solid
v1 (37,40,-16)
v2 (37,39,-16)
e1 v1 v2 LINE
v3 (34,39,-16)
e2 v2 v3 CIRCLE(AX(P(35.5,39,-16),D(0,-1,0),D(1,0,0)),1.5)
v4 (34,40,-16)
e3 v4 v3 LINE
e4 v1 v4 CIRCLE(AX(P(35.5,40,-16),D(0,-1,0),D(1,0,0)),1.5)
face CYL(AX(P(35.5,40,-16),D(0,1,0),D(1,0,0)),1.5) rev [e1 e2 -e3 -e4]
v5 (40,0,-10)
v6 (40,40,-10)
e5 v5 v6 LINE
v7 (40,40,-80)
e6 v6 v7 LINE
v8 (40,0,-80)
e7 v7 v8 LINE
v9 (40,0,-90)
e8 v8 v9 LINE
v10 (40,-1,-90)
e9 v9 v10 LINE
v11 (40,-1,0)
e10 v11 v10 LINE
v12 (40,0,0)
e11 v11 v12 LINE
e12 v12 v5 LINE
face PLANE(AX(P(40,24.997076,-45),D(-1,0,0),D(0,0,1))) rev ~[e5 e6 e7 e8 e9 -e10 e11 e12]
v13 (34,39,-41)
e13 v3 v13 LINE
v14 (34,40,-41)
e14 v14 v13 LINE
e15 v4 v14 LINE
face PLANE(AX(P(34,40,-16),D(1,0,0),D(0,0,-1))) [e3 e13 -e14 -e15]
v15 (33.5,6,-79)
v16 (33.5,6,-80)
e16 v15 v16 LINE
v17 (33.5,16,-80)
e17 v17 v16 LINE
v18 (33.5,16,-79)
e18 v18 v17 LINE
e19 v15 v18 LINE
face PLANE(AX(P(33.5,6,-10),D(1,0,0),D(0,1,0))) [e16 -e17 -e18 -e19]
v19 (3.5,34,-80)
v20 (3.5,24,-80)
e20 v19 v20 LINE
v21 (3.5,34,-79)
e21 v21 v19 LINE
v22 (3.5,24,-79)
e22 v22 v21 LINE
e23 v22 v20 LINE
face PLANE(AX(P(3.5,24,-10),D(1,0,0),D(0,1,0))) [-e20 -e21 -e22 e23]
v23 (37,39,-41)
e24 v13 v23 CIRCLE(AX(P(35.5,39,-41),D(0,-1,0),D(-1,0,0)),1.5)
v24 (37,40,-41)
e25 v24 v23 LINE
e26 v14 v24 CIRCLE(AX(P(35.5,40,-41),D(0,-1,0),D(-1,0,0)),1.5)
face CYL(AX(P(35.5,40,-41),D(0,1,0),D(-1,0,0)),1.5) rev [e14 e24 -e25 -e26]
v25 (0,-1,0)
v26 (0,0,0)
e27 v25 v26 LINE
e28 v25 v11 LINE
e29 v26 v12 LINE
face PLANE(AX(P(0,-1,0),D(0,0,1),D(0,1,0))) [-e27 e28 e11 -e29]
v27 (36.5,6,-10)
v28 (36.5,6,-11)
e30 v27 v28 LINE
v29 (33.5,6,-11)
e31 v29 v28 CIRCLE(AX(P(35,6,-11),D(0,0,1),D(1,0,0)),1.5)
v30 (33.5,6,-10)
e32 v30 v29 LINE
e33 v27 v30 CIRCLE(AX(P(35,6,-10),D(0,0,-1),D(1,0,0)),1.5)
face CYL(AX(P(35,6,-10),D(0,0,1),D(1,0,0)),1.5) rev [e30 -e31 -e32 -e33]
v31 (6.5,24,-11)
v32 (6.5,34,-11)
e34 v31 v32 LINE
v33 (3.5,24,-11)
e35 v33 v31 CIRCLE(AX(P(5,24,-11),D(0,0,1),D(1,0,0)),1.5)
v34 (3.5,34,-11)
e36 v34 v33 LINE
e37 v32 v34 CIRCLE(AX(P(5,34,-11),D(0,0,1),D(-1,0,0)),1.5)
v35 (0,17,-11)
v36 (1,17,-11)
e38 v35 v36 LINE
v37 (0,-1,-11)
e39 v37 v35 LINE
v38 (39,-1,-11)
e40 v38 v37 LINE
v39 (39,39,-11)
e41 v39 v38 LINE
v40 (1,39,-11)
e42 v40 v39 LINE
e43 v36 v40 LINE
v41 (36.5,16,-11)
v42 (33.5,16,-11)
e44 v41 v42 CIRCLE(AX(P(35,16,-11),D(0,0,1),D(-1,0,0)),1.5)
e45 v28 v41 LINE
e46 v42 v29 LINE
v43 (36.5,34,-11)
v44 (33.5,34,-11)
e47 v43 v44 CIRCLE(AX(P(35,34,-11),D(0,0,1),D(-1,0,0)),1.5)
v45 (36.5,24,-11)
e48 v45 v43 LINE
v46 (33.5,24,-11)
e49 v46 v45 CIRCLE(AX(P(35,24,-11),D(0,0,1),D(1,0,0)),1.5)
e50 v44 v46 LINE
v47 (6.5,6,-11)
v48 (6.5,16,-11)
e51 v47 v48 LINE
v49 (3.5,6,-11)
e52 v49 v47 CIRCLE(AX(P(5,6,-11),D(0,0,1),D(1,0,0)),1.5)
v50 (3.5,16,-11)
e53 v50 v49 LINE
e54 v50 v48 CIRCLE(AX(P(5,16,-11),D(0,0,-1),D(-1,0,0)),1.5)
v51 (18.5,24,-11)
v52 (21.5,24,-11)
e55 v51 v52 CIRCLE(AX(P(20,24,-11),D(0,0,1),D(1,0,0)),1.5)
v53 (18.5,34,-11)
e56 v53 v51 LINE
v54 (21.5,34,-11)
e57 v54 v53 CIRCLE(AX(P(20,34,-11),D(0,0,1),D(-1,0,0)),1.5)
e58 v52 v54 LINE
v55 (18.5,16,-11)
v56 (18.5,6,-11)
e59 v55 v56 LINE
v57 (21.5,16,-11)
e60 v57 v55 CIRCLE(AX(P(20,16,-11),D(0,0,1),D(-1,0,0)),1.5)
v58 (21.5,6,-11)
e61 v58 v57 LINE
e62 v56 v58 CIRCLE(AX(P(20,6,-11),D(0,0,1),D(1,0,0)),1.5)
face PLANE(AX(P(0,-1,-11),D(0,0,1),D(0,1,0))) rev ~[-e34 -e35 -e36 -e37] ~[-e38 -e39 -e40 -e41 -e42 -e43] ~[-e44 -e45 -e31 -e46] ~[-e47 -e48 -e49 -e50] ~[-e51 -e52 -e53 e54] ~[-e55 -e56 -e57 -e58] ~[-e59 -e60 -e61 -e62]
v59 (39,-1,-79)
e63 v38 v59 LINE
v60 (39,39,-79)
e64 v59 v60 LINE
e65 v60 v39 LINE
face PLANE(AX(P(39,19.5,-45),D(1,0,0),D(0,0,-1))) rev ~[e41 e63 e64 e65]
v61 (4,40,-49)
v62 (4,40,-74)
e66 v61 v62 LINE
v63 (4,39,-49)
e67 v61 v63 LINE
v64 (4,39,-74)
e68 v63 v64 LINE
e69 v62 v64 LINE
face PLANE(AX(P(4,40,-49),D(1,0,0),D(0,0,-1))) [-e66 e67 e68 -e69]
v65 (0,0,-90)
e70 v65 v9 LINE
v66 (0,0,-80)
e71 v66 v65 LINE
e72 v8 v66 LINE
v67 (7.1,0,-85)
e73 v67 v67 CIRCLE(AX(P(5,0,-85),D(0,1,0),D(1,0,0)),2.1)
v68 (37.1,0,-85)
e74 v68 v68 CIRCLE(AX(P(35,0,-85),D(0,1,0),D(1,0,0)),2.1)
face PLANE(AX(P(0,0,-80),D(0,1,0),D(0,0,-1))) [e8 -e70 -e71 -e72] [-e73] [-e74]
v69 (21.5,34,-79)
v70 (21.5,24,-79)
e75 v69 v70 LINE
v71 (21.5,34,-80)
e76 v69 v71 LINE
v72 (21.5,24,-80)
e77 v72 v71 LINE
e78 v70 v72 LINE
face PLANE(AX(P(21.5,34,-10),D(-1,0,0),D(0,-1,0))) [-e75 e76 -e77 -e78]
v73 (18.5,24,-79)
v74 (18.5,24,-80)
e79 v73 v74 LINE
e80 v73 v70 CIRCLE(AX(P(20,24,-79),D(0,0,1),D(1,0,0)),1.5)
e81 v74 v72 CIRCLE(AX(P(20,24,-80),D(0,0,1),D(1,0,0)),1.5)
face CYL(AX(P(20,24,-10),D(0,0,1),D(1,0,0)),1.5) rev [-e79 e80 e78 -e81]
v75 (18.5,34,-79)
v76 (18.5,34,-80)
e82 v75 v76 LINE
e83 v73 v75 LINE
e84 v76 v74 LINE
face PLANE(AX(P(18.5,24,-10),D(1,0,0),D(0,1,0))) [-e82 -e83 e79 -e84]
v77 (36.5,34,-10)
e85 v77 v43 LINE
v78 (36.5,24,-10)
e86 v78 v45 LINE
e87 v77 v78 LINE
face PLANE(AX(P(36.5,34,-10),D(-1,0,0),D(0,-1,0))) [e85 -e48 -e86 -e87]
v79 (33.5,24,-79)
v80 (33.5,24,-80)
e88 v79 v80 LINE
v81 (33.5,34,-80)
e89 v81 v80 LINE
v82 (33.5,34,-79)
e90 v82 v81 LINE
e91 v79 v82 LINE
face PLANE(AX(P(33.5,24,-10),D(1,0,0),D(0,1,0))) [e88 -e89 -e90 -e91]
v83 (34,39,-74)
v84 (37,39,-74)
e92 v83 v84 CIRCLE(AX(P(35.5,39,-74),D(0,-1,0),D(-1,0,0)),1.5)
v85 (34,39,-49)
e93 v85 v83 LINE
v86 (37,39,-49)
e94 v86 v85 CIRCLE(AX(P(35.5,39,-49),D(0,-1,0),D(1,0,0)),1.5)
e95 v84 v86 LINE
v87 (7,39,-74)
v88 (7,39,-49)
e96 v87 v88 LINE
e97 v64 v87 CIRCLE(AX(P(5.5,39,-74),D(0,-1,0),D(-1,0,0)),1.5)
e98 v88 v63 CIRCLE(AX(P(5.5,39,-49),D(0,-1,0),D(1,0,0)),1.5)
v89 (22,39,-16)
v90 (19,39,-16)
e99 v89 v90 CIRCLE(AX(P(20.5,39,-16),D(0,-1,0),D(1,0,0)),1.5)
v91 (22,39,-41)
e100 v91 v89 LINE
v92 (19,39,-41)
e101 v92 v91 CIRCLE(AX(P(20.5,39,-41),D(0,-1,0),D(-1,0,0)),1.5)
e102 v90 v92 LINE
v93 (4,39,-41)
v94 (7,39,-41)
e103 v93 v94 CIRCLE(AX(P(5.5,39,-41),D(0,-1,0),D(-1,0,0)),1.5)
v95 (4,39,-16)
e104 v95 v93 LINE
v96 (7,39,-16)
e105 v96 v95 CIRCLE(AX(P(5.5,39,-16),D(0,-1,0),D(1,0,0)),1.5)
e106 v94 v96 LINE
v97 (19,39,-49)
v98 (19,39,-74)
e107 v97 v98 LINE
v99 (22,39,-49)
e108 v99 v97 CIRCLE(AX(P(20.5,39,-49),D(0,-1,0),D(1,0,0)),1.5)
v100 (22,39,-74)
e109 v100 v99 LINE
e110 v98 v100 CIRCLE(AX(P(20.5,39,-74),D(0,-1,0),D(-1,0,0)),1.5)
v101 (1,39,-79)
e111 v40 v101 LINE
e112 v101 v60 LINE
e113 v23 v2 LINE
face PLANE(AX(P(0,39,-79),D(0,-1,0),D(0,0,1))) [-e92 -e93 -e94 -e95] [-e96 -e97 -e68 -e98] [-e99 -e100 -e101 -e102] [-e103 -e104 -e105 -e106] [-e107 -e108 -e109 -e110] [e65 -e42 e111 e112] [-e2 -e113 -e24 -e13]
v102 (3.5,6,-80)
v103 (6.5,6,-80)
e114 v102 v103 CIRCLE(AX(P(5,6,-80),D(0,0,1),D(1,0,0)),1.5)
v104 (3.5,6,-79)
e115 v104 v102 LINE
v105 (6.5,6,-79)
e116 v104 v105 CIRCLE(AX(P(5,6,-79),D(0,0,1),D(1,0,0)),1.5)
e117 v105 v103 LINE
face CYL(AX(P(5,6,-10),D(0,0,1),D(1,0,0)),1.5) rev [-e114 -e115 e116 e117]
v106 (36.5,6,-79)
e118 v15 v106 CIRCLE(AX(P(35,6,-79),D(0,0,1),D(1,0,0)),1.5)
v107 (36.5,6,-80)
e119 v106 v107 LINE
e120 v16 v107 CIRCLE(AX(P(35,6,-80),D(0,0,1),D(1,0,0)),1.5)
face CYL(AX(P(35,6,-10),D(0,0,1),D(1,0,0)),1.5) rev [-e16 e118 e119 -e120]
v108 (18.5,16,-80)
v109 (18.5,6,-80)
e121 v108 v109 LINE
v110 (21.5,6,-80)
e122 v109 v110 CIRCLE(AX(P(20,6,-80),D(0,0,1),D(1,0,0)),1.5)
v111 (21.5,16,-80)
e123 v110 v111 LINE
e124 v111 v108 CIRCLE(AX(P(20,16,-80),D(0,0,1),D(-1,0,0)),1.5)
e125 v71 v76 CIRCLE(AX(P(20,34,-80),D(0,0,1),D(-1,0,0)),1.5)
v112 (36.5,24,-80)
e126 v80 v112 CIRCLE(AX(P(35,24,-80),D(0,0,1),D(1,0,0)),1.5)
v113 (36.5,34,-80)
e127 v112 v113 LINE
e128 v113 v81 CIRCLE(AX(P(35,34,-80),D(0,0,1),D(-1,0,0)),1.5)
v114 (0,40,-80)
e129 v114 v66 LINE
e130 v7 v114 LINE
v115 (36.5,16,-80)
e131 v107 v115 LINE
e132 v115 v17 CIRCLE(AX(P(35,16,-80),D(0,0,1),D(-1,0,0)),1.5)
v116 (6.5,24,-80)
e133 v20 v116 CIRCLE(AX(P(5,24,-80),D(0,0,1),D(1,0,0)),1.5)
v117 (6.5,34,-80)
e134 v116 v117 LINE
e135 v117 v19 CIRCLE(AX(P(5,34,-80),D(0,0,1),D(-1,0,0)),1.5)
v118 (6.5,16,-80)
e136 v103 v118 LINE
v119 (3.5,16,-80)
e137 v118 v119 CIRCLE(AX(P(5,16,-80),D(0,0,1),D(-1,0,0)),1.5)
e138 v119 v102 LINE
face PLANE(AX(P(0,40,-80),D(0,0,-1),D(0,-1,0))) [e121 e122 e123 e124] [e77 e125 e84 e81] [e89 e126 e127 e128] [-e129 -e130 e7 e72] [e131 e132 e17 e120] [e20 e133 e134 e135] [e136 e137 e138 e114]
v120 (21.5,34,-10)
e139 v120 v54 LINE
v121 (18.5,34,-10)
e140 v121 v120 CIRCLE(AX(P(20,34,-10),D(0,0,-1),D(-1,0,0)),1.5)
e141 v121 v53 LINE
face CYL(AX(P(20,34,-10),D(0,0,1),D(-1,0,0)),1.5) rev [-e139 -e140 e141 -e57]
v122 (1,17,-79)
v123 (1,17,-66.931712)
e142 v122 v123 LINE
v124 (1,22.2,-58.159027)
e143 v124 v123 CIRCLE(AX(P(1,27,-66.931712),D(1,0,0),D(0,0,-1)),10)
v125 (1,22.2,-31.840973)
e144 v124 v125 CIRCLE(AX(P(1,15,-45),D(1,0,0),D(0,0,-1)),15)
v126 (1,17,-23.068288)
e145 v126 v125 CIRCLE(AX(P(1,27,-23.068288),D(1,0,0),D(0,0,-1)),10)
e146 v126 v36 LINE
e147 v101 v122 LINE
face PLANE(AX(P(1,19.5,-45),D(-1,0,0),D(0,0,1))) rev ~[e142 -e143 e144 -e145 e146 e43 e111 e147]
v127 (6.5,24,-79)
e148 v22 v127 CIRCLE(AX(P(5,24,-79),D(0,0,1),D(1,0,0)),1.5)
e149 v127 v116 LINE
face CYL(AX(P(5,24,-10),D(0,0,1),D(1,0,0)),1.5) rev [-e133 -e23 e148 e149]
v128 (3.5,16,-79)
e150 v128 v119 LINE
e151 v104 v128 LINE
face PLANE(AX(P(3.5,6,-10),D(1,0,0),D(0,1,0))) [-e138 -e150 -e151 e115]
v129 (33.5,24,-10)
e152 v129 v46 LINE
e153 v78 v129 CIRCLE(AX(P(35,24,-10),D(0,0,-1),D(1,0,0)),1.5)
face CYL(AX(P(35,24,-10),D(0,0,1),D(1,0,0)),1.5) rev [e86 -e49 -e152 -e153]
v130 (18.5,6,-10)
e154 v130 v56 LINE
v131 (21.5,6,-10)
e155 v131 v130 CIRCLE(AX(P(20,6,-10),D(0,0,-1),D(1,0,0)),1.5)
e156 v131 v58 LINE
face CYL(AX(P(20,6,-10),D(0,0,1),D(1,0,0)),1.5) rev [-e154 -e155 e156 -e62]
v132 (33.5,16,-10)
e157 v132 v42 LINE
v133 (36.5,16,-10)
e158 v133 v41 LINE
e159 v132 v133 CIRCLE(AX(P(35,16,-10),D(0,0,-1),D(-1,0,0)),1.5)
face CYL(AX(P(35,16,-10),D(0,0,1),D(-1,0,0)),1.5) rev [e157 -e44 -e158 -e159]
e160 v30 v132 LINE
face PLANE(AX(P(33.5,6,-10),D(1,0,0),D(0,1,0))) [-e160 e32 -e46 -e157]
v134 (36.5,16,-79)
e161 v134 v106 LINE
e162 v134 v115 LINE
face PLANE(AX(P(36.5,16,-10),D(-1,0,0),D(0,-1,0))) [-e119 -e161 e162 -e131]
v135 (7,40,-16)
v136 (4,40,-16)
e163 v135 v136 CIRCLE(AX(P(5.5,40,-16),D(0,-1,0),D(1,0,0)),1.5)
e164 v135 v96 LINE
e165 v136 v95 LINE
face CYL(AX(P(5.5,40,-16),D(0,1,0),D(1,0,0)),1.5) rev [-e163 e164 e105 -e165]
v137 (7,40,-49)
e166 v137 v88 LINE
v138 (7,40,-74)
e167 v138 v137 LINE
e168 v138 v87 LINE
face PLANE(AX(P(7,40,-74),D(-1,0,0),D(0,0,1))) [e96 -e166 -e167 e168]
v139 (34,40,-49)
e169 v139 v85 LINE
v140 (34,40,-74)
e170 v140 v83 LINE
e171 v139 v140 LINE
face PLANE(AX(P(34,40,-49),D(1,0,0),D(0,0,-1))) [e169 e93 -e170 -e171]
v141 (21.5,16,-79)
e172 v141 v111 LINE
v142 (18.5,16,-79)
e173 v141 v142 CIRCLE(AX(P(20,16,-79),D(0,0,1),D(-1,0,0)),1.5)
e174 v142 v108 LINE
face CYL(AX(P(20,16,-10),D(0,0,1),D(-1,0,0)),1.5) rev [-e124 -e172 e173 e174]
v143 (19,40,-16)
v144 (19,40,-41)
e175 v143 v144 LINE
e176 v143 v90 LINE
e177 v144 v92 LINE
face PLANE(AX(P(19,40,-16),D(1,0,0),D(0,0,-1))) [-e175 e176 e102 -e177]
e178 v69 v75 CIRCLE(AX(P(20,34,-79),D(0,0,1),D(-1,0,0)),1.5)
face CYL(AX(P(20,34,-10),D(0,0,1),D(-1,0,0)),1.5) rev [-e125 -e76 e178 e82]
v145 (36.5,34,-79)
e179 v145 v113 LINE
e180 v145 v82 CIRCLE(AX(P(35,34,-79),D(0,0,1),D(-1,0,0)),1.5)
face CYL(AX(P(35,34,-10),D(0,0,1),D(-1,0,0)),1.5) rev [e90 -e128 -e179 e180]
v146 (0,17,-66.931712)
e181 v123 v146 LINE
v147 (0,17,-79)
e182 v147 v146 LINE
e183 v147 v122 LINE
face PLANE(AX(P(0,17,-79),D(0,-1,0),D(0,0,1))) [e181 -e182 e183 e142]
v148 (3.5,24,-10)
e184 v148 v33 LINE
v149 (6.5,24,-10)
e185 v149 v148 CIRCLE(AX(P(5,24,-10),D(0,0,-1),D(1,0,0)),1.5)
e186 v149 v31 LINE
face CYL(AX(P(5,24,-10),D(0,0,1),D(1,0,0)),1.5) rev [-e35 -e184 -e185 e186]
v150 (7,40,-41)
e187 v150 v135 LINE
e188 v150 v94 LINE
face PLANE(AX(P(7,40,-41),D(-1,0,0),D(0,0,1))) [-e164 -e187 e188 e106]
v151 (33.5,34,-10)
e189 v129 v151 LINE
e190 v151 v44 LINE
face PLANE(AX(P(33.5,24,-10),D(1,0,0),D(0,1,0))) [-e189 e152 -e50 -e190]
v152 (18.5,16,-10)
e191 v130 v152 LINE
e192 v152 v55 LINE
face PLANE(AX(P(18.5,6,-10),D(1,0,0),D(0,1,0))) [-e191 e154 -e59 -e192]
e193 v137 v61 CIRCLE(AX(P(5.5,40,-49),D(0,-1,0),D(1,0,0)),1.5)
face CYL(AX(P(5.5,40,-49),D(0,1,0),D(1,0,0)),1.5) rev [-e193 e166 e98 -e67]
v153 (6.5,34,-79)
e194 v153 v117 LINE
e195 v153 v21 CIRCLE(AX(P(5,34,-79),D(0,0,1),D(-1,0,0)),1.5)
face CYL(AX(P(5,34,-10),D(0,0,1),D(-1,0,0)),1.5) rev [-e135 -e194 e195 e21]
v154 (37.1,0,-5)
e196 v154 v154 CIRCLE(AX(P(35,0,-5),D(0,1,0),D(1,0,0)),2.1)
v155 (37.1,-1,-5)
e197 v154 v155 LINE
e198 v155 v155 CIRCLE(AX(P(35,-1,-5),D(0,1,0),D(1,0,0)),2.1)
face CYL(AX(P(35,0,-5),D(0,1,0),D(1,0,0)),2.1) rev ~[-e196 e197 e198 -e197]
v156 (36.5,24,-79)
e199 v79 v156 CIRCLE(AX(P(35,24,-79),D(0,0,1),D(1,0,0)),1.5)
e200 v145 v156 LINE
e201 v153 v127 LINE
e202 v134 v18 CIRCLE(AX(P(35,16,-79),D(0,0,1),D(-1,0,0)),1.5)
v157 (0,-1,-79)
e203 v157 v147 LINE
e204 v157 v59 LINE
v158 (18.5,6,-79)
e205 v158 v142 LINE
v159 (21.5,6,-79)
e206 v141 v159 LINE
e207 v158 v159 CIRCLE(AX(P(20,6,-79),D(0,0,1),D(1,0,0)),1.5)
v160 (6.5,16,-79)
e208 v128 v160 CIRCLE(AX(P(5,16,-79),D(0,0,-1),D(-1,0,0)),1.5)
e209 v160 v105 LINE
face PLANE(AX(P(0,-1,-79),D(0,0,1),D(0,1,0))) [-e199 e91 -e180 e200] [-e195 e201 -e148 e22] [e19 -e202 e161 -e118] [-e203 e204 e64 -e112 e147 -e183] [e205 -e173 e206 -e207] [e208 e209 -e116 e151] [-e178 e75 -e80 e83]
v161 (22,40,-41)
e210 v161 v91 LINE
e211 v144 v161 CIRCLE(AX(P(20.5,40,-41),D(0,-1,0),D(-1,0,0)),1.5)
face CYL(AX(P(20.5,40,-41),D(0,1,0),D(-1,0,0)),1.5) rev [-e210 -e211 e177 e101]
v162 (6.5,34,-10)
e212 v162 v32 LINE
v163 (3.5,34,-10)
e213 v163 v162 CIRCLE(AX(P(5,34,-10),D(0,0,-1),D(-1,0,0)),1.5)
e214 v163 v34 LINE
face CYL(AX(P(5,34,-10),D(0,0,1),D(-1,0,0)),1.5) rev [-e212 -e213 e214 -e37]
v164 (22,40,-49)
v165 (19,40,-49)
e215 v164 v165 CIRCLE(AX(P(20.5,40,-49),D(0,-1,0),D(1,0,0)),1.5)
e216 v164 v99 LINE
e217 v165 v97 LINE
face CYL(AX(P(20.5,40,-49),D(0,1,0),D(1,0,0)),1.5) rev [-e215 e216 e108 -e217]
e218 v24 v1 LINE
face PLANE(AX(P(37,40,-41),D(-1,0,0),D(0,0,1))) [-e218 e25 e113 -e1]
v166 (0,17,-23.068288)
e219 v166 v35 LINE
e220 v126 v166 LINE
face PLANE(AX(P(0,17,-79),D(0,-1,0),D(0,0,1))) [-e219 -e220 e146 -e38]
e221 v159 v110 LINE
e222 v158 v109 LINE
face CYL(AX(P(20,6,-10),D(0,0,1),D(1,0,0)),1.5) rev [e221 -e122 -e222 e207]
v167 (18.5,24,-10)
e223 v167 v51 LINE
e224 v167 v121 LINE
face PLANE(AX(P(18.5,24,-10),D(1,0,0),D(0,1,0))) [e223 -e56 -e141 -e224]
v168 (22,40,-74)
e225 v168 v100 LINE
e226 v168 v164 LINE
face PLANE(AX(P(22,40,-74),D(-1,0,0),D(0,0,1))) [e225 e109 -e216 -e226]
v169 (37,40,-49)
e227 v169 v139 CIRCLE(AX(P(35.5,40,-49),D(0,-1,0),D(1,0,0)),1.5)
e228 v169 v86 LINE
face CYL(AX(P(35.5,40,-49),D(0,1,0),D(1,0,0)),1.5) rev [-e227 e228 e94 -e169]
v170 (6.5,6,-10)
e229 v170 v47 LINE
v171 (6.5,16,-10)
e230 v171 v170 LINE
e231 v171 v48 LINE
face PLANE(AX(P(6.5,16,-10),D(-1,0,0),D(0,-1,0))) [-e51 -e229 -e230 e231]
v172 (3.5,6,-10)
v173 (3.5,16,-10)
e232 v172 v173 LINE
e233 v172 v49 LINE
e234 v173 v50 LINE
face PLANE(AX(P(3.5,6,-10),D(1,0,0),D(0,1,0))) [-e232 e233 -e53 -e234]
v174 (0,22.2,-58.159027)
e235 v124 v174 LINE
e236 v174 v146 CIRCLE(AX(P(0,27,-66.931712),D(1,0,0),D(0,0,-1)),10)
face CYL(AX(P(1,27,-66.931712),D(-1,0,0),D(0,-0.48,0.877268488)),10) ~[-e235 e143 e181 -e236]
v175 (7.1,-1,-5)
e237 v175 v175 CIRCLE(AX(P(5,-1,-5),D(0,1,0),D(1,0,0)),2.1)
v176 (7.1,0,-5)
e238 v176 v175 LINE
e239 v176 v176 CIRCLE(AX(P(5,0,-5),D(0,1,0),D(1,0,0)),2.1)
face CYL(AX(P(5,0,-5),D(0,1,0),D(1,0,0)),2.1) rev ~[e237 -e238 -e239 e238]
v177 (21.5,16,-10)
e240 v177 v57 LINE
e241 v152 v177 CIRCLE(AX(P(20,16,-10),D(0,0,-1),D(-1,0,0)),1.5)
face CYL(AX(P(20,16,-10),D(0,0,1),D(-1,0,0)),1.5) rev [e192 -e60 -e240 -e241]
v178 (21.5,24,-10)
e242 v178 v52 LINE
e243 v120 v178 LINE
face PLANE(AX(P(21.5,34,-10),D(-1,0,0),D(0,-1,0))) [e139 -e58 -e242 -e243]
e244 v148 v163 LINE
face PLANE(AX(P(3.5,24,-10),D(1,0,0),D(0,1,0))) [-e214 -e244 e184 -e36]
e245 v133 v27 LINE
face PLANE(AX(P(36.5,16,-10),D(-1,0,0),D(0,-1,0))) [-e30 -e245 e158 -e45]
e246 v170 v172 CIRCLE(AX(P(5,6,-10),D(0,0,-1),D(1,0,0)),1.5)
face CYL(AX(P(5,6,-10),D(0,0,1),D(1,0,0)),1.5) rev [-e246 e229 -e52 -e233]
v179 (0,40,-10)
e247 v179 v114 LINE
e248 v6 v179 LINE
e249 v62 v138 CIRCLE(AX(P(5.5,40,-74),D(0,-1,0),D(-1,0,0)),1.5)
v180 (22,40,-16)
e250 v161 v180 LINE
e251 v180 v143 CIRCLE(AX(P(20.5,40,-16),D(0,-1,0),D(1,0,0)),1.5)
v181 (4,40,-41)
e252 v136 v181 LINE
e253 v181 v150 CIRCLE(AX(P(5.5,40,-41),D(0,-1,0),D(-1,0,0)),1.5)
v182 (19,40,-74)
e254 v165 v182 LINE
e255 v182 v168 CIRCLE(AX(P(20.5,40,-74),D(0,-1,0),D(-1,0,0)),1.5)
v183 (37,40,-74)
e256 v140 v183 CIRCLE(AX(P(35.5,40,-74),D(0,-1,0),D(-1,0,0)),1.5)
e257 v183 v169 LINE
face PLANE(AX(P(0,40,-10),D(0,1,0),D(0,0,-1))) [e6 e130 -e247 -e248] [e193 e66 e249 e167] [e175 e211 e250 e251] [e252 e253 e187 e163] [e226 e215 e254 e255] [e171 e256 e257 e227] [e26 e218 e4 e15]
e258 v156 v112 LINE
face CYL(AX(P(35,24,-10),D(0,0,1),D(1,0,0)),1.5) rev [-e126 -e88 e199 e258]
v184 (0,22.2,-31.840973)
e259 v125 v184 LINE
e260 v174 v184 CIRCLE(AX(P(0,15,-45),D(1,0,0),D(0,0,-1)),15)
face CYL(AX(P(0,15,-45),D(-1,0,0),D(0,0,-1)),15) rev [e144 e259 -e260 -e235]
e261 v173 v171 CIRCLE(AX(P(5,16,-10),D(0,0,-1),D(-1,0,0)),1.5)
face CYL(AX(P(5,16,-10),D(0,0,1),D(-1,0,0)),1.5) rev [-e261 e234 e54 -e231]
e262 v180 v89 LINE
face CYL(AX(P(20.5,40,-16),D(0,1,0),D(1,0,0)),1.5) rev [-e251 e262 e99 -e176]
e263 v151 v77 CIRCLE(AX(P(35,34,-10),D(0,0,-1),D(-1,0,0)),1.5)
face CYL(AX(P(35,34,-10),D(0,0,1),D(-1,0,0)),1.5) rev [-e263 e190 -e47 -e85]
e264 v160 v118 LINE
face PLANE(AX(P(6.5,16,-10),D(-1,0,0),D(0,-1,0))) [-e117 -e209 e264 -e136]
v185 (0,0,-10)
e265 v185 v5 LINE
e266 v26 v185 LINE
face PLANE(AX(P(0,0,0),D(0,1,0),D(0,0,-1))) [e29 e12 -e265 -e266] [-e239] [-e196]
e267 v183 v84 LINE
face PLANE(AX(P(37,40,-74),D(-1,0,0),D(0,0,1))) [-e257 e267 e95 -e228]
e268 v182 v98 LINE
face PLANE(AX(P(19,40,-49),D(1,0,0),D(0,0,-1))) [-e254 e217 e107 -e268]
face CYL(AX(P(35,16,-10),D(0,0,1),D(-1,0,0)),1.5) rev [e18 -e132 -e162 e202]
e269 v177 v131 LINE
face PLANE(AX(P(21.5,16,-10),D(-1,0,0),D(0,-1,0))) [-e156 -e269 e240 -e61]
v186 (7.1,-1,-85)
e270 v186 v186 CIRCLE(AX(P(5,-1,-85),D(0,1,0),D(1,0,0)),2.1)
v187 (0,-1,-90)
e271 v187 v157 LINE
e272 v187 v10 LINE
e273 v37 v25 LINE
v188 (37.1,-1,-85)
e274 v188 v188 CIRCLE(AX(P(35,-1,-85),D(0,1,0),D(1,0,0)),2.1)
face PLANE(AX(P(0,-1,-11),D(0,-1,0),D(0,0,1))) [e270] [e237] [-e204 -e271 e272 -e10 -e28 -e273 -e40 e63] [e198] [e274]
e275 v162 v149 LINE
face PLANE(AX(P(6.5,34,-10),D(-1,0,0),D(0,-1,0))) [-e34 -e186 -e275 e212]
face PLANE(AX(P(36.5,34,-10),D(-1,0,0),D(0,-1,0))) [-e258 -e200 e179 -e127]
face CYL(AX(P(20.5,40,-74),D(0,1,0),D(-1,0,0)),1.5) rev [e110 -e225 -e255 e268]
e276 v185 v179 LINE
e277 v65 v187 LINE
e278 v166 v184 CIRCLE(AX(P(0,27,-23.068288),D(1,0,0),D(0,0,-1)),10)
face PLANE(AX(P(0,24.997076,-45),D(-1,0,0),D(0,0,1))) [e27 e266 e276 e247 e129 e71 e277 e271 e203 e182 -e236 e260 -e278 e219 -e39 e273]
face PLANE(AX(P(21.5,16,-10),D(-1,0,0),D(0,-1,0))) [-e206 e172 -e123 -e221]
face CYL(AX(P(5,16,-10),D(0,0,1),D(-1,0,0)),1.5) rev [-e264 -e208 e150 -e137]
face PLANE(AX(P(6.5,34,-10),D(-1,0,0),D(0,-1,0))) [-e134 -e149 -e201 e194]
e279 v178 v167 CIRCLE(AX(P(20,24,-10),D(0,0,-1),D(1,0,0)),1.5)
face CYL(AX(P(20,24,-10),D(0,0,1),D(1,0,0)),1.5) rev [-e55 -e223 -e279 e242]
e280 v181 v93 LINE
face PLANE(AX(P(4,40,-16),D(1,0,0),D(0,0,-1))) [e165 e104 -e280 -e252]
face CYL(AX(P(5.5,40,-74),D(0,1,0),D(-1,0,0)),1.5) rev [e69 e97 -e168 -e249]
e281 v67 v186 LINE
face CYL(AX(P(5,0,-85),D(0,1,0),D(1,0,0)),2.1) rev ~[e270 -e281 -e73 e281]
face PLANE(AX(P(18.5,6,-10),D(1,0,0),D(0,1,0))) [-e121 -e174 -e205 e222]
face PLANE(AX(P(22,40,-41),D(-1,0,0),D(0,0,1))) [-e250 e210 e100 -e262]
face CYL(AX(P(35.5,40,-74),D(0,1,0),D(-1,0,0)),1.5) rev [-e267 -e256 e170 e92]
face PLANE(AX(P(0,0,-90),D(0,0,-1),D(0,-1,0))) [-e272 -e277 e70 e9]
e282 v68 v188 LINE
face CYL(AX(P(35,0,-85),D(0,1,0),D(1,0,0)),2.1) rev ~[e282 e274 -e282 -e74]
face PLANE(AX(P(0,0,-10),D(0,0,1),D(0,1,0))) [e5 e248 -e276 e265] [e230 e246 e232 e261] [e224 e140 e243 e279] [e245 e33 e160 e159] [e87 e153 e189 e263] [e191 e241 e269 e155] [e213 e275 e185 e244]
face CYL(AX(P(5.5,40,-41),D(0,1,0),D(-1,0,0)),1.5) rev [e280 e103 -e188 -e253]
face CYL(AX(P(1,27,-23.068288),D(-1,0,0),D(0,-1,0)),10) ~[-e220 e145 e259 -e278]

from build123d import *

# Parameters (mm, degrees)
EXTRUDE_1_DEPTH        = 40
SKETCH_2_W             = 70
SKETCH_2_H             = 41
EXTRUDE_2_DEPTH        = 1
SKETCH_3_W             = 70
SKETCH_3_H             = 41
EXTRUDE_3_DEPTH        = 1
SKETCH_4_R             = 2.1
CUT_EXTRUDE_1_DEPTH    = 1
CUT_EXTRUDE_2_DEPTH    = 1
CUT_EXTRUDE_3_DEPTH    = 81
PATTERN_LINEAR_1_COUNT = 3
PATTERN_LINEAR_1_PITCH = 15
CUT_EXTRUDE_4_DEPTH    = 1
PATTERN_LINEAR_2_COUNT = 3
PATTERN_LINEAR_2_PITCH = 15
SKETCH_8_W             = 68
SKETCH_8_H             = 18
CUT_EXTRUDE_5_DEPTH    = 10
FILLET_1_R             = 10


with BuildPart() as part:
    # 草图1 → 凸台-拉伸1 (new body)
    with BuildSketch(Plane(origin=(0, 0, 0), x_dir=(0, 0, -1), z_dir=(1, 0, 0))):
        Polygon((0, 0), (10, 0), (10, 40), (80, 40), (80, 0), (90, 0), (90, -1), (79, -1), (79, 39), (11, 39), (11, -1), (0, -1), align=None)
    extrude(amount=EXTRUDE_1_DEPTH)

    # 草图2 → 凸台-拉伸2 (add)
    with BuildSketch(Plane(origin=(40, 0, 0), x_dir=(0, 0, -1), z_dir=(1, 0, 0))):
        with Locations((45, 19.5)):
            Rectangle(SKETCH_2_W, SKETCH_2_H)
    extrude(amount=-EXTRUDE_2_DEPTH)

    # 草图3 → 凸台-拉伸3 (add)
    with BuildSketch(Plane.ZY):
        with Locations((-45, 19.5)):
            Rectangle(SKETCH_3_W, SKETCH_3_H)
    extrude(amount=-EXTRUDE_3_DEPTH)

    # 草图4 → 切除-拉伸1 (cut)
    with BuildSketch(Plane(origin=(0, 0, 0), x_dir=(1, 0, 0), z_dir=(0, 1, 0))):
        with Locations((5, 85)):
            Circle(SKETCH_4_R)
        with Locations((35, 85)):
            Circle(SKETCH_4_R)
        with Locations((35, 5)):
            Circle(SKETCH_4_R)
        with Locations((5, 5)):
            Circle(SKETCH_4_R)
    extrude(amount=-CUT_EXTRUDE_1_DEPTH, mode=Mode.SUBTRACT)

    # 草图5 → 切除-拉伸2 (cut)
    with BuildSketch(Plane.ZY):
        with BuildLine():
            Line((-30, 15), (-30, -16.50263466))
            ThreePointArc((-30, -16.50263466), (-45, -31.50263466), (-60, -16.50263466))
            Line((-60, -16.50263466), (-60, 15))
            ThreePointArc((-60, 15), (-45, 30), (-30, 15))
        make_face()
    extrude(amount=-CUT_EXTRUDE_2_DEPTH, mode=Mode.SUBTRACT)

    # 草图6 → 切除-拉伸3 (cut, through all)
    with BuildSketch(Plane.XY.offset(-10)):
        with BuildLine():
            Line((6.5, 34), (6.5, 24))
            ThreePointArc((6.5, 24), (5, 22.5), (3.5, 24))
            Line((3.5, 24), (3.5, 34))
            ThreePointArc((3.5, 34), (5, 35.5), (6.5, 34))
        make_face()
        with BuildLine():
            Line((6.5, 16), (6.5, 6))
            ThreePointArc((6.5, 6), (5, 4.5), (3.5, 6))
            Line((3.5, 6), (3.5, 16))
            ThreePointArc((3.5, 16), (5, 17.5), (6.5, 16))
        make_face()
    cut_extrude_3 = extrude(amount=-CUT_EXTRUDE_3_DEPTH, mode=Mode.SUBTRACT)

    # 阵列(线性)1: 切除-拉伸3 ×3
    with Locations(*[(i * PATTERN_LINEAR_1_PITCH, 0, 0) for i in range(1, PATTERN_LINEAR_1_COUNT)]):
        add(cut_extrude_3, mode=Mode.SUBTRACT)

    # 草图7 → 切除-拉伸4 (cut)
    with BuildSketch(Plane(origin=(0, 40, 0), x_dir=(1, 0, 0), z_dir=(0, 1, 0))):
        with BuildLine():
            Line((7, 74), (7, 49))
            ThreePointArc((7, 49), (5.5, 47.5), (4, 49))
            Line((4, 49), (4, 74))
            ThreePointArc((4, 74), (5.5, 75.5), (7, 74))
        make_face()
        with BuildLine():
            Line((7, 41), (7, 16))
            ThreePointArc((7, 16), (5.5, 14.5), (4, 16))
            Line((4, 16), (4, 41))
            ThreePointArc((4, 41), (5.5, 42.5), (7, 41))
        make_face()
    cut_extrude_4 = extrude(amount=-CUT_EXTRUDE_4_DEPTH, mode=Mode.SUBTRACT)

    # 阵列(线性)2: 切除-拉伸4 ×3
    with Locations(*[(i * PATTERN_LINEAR_2_PITCH, 0, 0) for i in range(1, PATTERN_LINEAR_2_COUNT)]):
        add(cut_extrude_4, mode=Mode.SUBTRACT)

    # 草图8 → 切除-拉伸5 (cut)
    with BuildSketch(Plane.ZY):
        with Locations((-45, 8)):
            Rectangle(SKETCH_8_W, SKETCH_8_H)
    extrude(amount=-CUT_EXTRUDE_5_DEPTH, mode=Mode.SUBTRACT)

    # 圆角1
    fillet_1_edges = [part.edges().sort_by_distance(p)[0] for p in [
        (0.5, 17, -30.133931253),
        (0.5, 17, -59.866068747),
    ]]
    fillet(fillet_1_edges, radius=FILLET_1_R)


solid = part.part
